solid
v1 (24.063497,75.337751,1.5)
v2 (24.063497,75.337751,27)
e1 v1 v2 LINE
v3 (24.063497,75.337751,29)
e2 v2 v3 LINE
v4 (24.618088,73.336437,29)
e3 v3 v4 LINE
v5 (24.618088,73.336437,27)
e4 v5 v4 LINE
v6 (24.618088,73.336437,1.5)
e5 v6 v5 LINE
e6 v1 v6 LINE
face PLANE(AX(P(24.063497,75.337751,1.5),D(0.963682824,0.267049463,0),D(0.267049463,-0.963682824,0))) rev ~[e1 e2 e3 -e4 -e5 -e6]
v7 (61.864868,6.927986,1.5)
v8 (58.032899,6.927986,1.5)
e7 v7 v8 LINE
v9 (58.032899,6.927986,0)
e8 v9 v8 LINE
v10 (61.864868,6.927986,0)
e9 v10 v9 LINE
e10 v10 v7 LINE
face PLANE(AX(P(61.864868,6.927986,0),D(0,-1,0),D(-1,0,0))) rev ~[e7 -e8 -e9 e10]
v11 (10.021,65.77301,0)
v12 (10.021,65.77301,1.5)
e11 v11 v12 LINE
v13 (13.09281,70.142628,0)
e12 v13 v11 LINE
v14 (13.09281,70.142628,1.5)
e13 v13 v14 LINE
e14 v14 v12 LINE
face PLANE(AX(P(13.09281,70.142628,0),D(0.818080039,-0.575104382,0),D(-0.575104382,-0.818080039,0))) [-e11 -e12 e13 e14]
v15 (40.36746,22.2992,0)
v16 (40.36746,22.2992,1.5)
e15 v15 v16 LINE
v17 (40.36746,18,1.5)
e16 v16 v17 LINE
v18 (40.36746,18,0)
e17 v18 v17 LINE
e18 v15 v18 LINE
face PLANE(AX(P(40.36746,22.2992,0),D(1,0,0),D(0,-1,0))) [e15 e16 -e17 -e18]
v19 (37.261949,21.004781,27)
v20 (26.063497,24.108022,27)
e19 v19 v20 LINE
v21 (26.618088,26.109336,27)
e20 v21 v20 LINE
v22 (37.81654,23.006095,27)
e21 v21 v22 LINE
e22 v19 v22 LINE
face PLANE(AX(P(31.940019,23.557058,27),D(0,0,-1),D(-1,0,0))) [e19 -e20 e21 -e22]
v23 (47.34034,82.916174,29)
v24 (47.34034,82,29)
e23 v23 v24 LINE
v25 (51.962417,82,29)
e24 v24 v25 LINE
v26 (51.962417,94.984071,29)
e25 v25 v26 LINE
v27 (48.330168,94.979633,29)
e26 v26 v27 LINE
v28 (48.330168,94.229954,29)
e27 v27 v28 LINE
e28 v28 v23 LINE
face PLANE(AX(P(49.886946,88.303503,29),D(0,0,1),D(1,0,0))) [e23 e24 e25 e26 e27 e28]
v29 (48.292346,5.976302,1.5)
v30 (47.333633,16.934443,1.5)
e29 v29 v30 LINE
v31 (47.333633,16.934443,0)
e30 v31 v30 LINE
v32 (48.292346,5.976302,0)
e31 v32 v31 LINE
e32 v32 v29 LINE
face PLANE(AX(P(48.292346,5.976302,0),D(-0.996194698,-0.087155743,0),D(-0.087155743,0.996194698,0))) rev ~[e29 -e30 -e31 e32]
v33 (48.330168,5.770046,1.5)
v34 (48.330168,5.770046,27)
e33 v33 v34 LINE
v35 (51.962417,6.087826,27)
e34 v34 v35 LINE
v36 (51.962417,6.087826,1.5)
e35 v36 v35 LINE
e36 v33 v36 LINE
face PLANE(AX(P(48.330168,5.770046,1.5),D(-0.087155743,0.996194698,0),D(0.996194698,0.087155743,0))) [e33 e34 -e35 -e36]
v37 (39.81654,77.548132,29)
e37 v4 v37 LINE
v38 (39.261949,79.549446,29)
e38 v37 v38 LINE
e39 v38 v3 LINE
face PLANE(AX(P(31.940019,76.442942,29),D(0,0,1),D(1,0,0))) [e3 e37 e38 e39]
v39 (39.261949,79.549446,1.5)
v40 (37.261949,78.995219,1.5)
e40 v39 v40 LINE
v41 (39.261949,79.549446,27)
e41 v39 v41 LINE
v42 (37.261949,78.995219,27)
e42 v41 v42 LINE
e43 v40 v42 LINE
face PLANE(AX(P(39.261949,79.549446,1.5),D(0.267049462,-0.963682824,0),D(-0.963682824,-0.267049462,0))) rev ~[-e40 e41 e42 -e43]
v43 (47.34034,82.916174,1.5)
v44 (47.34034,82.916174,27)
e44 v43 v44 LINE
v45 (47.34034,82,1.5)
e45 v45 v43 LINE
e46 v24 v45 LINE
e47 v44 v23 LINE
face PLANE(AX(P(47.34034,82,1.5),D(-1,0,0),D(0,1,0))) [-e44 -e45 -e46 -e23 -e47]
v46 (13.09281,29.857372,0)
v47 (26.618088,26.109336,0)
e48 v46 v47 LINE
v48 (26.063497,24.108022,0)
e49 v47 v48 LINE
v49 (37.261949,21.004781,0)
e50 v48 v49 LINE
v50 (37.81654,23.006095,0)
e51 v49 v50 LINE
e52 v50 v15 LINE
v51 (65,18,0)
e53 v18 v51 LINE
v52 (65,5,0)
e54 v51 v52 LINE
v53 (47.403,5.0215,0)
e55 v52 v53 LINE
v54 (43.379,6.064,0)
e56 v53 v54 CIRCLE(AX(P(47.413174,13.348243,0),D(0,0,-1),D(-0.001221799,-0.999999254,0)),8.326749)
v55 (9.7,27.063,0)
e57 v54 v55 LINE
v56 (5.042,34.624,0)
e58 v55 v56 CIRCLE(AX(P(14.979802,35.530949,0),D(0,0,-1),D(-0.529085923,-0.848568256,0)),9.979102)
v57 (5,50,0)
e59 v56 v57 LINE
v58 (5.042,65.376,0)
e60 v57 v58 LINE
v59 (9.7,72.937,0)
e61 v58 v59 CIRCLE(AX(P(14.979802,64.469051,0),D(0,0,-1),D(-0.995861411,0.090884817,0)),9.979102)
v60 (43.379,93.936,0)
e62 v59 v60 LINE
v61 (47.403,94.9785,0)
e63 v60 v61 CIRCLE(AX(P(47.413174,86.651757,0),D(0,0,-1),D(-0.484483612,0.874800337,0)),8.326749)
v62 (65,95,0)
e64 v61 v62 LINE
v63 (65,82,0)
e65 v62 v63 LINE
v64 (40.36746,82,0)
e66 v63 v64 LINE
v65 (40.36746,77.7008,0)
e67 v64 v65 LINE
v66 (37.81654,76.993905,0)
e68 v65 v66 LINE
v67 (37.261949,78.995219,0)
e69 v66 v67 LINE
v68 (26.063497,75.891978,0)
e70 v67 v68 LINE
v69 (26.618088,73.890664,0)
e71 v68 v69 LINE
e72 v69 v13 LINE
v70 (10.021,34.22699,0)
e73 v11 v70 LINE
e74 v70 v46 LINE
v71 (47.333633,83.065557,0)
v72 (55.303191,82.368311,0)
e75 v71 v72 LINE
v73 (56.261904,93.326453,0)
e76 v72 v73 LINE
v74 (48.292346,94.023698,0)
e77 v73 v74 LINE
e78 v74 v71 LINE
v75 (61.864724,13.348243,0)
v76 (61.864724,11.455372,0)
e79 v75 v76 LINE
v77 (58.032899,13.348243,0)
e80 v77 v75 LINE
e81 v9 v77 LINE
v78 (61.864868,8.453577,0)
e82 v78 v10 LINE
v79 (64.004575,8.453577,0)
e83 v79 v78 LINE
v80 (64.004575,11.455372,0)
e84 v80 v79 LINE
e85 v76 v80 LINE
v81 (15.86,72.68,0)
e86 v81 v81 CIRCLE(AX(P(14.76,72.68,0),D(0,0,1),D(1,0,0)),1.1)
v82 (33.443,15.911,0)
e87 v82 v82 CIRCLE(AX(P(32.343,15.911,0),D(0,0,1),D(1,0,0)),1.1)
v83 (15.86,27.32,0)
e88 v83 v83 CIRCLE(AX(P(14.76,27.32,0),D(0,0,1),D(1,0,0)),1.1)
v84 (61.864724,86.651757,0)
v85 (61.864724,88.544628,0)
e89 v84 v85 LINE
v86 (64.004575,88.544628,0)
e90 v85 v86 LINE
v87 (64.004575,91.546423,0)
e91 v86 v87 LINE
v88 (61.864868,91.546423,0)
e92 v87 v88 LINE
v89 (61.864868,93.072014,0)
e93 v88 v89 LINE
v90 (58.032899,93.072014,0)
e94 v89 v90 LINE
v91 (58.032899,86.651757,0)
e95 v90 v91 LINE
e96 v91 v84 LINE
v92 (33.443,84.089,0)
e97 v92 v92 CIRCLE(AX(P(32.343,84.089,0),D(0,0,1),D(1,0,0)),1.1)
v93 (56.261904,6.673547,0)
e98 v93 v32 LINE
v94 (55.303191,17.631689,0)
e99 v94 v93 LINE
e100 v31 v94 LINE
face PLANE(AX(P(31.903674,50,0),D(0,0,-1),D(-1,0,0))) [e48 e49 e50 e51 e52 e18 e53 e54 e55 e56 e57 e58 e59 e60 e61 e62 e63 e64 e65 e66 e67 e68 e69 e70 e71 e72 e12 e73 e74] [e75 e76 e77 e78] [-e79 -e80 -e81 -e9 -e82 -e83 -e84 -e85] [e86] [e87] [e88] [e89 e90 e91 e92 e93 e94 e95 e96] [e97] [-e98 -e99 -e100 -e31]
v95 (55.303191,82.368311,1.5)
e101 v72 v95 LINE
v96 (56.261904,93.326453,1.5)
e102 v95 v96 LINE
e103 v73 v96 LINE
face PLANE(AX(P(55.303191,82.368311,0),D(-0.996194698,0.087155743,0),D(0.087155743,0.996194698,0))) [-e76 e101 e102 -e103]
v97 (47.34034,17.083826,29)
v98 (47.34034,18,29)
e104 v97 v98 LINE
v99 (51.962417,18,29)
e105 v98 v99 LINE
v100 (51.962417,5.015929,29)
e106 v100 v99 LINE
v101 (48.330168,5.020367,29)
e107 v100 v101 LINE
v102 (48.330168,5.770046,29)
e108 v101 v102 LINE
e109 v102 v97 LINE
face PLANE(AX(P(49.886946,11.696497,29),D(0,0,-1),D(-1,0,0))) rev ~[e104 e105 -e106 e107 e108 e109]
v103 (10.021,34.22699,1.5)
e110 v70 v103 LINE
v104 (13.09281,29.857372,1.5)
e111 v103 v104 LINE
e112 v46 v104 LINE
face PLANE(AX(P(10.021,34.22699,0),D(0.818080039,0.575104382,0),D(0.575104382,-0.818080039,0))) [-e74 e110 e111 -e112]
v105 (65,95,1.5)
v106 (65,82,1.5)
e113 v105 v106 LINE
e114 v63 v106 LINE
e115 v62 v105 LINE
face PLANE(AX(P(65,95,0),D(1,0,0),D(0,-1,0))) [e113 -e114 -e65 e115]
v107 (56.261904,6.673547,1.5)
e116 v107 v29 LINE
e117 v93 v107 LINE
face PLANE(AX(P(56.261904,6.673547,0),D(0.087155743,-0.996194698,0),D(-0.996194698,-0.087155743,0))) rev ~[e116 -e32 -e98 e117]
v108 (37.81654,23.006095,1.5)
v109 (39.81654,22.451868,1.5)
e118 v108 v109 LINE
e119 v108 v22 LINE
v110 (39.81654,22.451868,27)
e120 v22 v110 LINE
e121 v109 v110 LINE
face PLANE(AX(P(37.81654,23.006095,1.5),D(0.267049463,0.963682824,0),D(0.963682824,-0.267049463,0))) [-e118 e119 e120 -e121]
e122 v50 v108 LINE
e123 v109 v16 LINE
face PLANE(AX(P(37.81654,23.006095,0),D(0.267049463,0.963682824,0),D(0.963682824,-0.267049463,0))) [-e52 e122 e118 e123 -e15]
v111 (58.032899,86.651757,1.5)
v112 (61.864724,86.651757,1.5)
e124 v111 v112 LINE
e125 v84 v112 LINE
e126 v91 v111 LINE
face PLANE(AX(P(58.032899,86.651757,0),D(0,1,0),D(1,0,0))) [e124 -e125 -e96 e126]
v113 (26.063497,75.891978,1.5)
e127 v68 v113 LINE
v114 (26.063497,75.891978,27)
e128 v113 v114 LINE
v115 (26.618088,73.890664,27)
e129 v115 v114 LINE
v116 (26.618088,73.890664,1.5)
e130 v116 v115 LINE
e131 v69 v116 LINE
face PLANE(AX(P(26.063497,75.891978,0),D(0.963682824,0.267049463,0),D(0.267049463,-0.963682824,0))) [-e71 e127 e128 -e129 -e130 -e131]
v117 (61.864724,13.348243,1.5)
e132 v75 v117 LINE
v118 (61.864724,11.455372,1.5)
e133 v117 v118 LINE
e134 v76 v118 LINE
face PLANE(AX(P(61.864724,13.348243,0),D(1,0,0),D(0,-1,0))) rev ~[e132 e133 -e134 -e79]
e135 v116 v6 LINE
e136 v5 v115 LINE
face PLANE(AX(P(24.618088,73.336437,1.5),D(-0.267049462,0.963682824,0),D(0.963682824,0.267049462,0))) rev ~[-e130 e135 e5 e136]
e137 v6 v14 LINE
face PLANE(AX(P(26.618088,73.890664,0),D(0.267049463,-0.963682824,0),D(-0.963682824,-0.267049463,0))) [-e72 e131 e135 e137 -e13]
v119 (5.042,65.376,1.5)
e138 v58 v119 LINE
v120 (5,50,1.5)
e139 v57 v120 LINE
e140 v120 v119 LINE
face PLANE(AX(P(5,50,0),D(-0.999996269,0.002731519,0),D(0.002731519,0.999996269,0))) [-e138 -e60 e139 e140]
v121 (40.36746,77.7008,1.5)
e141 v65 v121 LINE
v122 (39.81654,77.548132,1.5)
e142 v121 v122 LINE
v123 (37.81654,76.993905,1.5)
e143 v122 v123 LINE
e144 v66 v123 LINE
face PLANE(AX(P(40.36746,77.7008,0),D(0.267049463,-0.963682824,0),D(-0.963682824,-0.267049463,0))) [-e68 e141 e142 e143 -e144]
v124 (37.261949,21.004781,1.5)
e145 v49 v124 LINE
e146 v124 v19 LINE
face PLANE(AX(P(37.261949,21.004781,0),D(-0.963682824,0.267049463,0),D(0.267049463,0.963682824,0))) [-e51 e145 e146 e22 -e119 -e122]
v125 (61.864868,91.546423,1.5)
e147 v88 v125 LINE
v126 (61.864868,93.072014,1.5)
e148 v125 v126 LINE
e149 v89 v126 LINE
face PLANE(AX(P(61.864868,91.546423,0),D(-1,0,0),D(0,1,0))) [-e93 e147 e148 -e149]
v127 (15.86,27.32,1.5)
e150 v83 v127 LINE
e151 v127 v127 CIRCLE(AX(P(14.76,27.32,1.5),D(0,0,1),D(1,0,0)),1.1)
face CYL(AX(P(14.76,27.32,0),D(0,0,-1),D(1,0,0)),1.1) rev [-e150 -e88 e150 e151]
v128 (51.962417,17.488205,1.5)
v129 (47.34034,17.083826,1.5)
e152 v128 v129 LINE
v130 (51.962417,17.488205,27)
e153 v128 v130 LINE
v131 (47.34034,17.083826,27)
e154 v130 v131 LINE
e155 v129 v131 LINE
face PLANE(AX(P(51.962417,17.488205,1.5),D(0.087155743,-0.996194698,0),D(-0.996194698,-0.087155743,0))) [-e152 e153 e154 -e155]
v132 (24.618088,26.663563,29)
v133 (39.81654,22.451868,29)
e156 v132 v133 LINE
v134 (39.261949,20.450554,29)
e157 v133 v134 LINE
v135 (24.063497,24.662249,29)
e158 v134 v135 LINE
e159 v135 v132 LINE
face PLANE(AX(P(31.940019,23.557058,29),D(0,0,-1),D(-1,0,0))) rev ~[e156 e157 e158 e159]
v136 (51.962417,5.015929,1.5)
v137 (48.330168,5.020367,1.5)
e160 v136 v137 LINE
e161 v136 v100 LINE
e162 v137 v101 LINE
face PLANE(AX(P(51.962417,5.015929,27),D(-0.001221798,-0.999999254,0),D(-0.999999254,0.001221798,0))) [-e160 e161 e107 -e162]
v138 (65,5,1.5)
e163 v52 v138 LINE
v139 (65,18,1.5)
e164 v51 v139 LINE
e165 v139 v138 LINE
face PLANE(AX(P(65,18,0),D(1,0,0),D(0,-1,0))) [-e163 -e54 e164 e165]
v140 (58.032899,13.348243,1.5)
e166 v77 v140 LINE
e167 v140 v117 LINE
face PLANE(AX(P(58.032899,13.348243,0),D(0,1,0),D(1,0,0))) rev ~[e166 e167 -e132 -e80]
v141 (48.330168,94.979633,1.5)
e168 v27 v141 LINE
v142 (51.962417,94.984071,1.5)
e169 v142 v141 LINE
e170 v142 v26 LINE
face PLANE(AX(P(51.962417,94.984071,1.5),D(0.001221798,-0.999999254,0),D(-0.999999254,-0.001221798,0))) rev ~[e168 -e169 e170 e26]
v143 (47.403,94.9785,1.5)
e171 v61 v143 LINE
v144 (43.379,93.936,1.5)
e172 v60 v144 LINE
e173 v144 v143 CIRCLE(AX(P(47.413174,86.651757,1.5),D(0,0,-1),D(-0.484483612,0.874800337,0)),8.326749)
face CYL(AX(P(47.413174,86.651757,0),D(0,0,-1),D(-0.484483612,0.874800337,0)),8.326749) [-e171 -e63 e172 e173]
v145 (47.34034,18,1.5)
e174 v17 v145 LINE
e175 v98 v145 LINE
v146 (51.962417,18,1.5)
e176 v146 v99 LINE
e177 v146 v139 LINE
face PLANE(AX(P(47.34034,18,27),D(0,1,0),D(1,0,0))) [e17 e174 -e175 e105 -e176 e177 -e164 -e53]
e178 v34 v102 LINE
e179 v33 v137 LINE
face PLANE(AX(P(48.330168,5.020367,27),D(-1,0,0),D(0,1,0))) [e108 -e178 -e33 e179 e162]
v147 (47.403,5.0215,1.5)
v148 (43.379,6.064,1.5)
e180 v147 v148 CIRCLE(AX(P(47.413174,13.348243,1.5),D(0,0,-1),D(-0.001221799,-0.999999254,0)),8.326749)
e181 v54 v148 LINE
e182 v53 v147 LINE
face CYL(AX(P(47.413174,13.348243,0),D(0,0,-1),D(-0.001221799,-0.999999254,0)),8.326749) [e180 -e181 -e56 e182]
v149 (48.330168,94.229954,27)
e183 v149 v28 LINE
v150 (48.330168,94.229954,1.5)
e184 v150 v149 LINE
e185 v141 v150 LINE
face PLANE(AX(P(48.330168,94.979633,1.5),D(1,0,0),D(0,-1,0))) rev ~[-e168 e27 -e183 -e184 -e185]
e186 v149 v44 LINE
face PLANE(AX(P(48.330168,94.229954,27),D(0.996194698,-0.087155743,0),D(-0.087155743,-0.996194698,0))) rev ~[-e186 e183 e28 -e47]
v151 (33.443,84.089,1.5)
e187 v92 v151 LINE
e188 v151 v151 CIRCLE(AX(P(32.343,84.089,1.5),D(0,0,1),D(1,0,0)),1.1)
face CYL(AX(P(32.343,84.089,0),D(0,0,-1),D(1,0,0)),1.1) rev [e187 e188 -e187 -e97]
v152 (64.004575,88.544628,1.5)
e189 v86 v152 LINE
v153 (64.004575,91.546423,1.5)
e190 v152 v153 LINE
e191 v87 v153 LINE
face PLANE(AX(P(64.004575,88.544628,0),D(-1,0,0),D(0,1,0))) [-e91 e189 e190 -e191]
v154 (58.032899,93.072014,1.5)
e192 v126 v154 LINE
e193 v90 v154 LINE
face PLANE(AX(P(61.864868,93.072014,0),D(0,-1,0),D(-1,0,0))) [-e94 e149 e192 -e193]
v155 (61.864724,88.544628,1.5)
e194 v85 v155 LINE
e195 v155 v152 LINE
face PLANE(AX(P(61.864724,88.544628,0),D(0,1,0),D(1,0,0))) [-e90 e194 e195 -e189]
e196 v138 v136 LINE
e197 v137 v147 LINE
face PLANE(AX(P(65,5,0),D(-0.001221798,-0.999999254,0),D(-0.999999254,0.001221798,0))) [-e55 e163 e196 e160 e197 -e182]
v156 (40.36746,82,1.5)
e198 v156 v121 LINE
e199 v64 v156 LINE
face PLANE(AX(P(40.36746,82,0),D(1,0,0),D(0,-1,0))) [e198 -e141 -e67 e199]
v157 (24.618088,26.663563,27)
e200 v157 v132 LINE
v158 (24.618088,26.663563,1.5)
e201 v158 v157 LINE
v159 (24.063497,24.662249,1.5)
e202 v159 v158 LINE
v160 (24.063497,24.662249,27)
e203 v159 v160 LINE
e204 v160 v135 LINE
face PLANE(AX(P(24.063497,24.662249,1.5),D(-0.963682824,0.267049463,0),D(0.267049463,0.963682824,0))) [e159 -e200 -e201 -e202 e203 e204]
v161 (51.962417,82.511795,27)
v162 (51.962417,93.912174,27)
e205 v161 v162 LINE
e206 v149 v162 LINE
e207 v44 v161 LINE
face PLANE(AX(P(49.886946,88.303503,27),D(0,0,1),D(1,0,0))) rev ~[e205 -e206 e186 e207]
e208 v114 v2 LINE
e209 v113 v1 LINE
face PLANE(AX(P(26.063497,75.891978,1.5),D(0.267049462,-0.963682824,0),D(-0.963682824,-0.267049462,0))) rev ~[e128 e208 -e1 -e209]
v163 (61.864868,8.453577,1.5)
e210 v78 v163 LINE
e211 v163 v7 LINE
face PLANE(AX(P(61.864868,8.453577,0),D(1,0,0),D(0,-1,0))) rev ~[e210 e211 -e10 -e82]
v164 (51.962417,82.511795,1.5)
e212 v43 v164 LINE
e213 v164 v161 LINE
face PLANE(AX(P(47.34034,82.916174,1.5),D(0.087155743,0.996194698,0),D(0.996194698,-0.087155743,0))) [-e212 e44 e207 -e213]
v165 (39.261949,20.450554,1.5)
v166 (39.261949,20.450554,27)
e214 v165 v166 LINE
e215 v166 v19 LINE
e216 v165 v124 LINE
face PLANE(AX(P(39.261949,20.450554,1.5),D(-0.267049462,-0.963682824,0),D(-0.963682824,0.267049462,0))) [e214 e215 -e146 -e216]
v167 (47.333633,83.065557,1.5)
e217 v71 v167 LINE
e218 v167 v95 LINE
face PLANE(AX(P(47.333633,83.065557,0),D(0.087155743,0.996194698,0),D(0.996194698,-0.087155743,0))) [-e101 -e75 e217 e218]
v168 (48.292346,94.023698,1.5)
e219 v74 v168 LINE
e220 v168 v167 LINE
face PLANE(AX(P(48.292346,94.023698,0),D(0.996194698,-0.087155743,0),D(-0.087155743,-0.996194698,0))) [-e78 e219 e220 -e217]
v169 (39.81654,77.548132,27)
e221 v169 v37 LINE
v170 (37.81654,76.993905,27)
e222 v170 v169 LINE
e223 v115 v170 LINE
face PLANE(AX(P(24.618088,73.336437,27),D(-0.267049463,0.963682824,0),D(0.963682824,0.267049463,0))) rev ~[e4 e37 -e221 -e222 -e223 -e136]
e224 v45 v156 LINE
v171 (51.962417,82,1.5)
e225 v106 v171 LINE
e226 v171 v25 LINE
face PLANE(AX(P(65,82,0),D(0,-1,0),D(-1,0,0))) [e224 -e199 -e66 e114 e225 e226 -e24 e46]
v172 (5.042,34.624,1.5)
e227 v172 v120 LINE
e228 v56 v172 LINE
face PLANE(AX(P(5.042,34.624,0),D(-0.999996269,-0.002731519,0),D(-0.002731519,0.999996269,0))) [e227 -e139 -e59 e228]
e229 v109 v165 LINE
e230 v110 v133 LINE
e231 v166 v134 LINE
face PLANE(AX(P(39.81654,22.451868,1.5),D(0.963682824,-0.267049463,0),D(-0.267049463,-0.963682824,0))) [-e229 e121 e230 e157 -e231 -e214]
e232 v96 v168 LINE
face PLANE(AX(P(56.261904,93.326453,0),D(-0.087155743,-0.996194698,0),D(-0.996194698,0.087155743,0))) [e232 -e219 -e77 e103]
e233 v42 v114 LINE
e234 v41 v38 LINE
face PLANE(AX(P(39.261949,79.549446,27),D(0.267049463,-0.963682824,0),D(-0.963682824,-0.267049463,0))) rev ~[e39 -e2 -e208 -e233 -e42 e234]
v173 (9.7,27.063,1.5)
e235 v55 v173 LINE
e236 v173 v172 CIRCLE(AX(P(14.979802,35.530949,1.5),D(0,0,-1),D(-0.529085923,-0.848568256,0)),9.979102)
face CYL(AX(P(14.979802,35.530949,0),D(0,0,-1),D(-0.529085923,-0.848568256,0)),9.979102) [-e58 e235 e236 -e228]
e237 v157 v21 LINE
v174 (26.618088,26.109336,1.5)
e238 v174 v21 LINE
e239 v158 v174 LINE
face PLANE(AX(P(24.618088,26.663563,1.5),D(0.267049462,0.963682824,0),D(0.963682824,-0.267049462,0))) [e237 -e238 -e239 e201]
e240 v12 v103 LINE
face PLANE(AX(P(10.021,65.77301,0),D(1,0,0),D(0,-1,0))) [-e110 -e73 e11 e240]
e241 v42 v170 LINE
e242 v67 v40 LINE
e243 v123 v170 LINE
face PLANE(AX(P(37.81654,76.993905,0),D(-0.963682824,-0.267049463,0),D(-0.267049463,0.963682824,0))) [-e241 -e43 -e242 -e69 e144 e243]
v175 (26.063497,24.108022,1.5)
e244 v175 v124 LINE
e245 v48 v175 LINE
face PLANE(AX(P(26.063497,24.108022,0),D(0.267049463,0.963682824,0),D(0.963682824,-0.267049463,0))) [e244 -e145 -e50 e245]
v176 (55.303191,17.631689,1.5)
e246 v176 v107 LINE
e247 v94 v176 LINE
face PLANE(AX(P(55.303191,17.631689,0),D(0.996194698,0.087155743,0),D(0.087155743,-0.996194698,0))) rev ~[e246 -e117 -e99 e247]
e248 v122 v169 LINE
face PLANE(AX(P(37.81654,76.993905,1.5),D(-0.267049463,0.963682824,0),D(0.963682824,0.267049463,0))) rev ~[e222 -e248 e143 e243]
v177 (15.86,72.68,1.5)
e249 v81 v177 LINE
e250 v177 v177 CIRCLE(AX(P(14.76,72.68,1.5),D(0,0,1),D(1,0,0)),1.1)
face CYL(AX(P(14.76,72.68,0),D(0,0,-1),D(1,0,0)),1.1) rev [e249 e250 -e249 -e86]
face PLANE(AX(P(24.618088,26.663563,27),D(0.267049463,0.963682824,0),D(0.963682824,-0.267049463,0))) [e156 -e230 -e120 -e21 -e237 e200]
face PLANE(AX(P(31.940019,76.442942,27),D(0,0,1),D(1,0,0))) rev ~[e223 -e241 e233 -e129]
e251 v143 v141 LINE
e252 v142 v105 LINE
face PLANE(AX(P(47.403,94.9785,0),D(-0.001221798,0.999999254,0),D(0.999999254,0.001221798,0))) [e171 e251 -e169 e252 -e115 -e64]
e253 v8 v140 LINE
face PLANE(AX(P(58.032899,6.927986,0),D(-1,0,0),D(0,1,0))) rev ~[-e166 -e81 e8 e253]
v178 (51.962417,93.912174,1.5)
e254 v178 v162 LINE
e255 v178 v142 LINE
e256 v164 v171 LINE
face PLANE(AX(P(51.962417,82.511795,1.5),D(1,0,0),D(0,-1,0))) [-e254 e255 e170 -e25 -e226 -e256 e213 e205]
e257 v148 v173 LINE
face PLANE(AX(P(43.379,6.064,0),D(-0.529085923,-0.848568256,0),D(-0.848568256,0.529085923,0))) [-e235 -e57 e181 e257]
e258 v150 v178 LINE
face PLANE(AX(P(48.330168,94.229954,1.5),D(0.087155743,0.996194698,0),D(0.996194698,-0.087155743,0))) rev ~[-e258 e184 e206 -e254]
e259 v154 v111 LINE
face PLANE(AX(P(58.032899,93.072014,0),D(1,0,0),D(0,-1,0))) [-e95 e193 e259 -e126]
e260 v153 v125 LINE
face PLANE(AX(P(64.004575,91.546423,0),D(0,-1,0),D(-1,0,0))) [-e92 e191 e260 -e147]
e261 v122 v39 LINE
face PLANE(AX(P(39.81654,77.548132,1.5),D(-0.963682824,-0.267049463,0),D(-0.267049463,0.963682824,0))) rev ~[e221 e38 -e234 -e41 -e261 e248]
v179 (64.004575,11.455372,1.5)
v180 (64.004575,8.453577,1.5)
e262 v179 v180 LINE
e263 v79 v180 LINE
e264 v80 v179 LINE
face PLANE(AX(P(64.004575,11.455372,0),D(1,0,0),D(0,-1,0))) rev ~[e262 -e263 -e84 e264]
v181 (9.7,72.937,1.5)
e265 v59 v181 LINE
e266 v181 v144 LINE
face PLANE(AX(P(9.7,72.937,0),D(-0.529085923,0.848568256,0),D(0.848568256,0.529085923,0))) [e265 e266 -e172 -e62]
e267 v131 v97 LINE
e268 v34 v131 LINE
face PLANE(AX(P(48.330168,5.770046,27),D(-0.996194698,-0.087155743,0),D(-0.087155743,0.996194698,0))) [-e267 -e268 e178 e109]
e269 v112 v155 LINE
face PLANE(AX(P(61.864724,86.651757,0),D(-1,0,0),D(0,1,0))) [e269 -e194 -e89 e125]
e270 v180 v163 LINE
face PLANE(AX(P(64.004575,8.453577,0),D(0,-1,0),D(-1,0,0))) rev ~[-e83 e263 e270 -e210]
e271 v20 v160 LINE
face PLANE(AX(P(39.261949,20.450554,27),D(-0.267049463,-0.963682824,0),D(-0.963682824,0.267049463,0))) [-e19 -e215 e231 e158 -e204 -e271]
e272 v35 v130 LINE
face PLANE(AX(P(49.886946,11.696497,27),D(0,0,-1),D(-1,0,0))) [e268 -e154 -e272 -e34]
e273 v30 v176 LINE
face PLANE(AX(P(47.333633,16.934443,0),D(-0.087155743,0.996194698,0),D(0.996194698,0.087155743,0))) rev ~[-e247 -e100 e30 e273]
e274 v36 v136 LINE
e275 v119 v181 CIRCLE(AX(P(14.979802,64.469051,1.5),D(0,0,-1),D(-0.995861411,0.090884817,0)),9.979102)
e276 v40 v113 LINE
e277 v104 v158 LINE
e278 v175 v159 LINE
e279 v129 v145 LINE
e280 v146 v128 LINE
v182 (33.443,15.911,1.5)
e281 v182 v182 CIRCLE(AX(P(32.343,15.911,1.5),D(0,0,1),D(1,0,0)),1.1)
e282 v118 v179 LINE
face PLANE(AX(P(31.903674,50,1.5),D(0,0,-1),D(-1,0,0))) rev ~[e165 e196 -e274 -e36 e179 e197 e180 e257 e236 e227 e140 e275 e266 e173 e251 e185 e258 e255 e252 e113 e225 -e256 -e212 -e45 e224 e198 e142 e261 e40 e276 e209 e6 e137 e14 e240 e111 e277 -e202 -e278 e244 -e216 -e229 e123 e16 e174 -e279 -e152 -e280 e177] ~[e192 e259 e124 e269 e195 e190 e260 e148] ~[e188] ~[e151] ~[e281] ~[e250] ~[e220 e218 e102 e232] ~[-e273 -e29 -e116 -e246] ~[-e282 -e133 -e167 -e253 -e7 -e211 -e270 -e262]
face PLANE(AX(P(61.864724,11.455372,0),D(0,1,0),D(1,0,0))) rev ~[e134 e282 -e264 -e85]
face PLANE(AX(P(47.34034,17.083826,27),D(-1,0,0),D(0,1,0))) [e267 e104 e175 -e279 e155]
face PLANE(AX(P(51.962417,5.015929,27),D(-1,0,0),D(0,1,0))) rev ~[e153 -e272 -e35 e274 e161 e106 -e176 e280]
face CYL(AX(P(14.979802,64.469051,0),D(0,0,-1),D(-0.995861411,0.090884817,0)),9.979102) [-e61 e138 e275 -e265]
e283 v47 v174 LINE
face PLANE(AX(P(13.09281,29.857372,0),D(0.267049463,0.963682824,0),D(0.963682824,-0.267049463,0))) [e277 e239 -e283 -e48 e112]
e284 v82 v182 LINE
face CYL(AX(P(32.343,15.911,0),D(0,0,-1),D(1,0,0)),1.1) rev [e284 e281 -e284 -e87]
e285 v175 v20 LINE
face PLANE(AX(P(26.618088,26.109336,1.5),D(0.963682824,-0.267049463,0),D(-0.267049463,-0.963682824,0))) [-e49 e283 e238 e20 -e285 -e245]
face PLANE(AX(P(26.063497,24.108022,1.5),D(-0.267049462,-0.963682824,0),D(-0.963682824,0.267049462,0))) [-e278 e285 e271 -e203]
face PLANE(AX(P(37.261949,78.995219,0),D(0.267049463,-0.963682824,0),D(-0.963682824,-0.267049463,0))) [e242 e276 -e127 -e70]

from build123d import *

# Parameters (mm, degrees)
SKETCH1_R           = 1.1
BOSS_EXTRUDE1_DEPTH = 1.5
BOSS_EXTRUDE2_DEPTH = 25.5
BOSS_EXTRUDE4_DEPTH = 2


with BuildPart() as part:
    # Sketch1 → Boss-Extrude1 (new body)
    with BuildSketch(Plane.XY):
        with BuildLine():
            Line((65, 15), (65, 5))
            Line((65, 5), (47.403, 5.0215))
            ThreePointArc((47.403, 5.0215), (45.32489976, 5.287606245), (43.379, 6.064))
            Line((43.379, 6.064), (9.7, 27.063))
            ThreePointArc((9.7, 27.063), (6.483564725, 30.296790106), (5.042, 34.624))
            Line((5.042, 34.624), (5, 50))
            Line((5, 50), (5.042, 65.376))
            ThreePointArc((5.042, 65.376), (6.483564725, 69.703209894), (9.7, 72.937))
            Line((9.7, 72.937), (43.379, 93.936))
            ThreePointArc((43.379, 93.936), (45.32489976, 94.712393755), (47.403, 94.9785))
            Line((47.403, 94.9785), (65, 95))
            Line((65, 95), (65, 85))
            Line((65, 85), (65, 82))
            Line((65, 82), (40.367460006, 82))
            Line((40.367460006, 82), (40.367460006, 77.700799702))
            Line((40.367460006, 77.700799702), (37.816539887, 76.993905452))
            Line((37.816539887, 76.993905452), (37.261948992, 78.995219046))
            Line((37.261948992, 78.995219046), (26.063497318, 75.891977576))
            Line((26.063497318, 75.891977576), (26.618088213, 73.890663982))
            Line((26.618088213, 73.890663982), (13.092809655, 70.14262751))
            Line((13.092809655, 70.14262751), (10.021, 65.77301003))
            Line((10.021, 65.77301003), (10.021, 34.22698997))
            Line((10.021, 34.22698997), (13.092809655, 29.85737249))
            Line((13.092809655, 29.85737249), (26.618088213, 26.109336018))
            Line((26.618088213, 26.109336018), (26.063497318, 24.108022424))
            Line((26.063497318, 24.108022424), (37.261948992, 21.004780954))
            Line((37.261948992, 21.004780954), (37.816539887, 23.006094548))
            Line((37.816539887, 23.006094548), (40.367460006, 22.299200298))
            Line((40.367460006, 22.299200298), (40.367460006, 18))
            Line((40.367460006, 18), (65, 18))
            Line((65, 18), (65, 15))
        make_face()
        with Locations((32.343, 84.089)):
            Circle(SKETCH1_R, mode=Mode.SUBTRACT)
        with Locations((14.76, 72.68)):
            Circle(SKETCH1_R, mode=Mode.SUBTRACT)
        with Locations((14.76, 27.32)):
            Circle(SKETCH1_R, mode=Mode.SUBTRACT)
        with Locations((32.343, 15.911)):
            Circle(SKETCH1_R, mode=Mode.SUBTRACT)
        Polygon((47.33363322, 83.065556795), (55.303190804, 82.368310853), (56.261903975, 93.326452532), (48.29234639, 94.023698474), align=None, mode=Mode.SUBTRACT)
        Polygon((58.032899046, 86.65175686), (61.864724228, 86.65175686), (61.864724228, 88.544627634), (64.004574654, 88.544627634), (64.004574654, 91.546423221), (61.864868117, 91.546423221), (61.864868117, 93.072013731), (58.032899046, 93.072013731), align=None, mode=Mode.SUBTRACT)
        Polygon((56.261903975, 6.673547468), (48.29234639, 5.976301526), (47.33363322, 16.934443205), (55.303190804, 17.631689147), align=None, mode=Mode.SUBTRACT)
        Polygon((58.032899046, 13.34824314), (61.864724228, 13.34824314), (61.864724228, 11.455372366), (64.004574654, 11.455372366), (64.004574654, 8.453576779), (61.864868117, 8.453576779), (61.864868117, 6.927986269), (58.032899046, 6.927986269), align=None, mode=Mode.SUBTRACT)
    extrude(amount=BOSS_EXTRUDE1_DEPTH)

    # Sketch2 → Boss-Extrude2 (add)
    with BuildSketch(Plane.XY.offset(1.5)):
        Polygon((26.618088213, 26.109336018), (26.063497318, 24.108022424), (24.063497318, 24.662249304), (24.618088213, 26.663562898), align=None)
        Polygon((37.261948992, 21.004780954), (37.816539887, 23.006094548), (39.816539887, 22.451867667), (39.261948992, 20.450554074), align=None)
        Polygon((39.816539887, 77.548132333), (39.261948992, 79.549445926), (37.261948992, 78.995219046), (37.816539887, 76.993905452), align=None)
        Polygon((26.063497318, 75.891977576), (24.063497318, 75.337750696), (24.618088213, 73.336437102), (26.618088213, 73.890663982), align=None)
        Polygon((47.340340229, 18), (51.96241715, 18), (51.96241715, 17.488205474), (47.340340229, 17.083826141), align=None)
        Polygon((48.330167759, 5.770045696), (51.96241715, 6.087826341), (51.96241715, 5.015929308), (48.330167759, 5.020367187), (48.330167759, 5.551877825), align=None)
        Polygon((48.330167759, 94.979632813), (48.330167759, 94.448122175), (48.330167759, 94.229954304), (51.96241715, 93.912173659), (51.96241715, 94.984070692), align=None)
        Polygon((47.340340229, 82.916173859), (51.96241715, 82.511794526), (51.96241715, 82), (47.340340229, 82), align=None)
    extrude(amount=BOSS_EXTRUDE2_DEPTH)

    # Sketch4 → Boss-Extrude4 (add)
    with BuildSketch(Plane.XY.offset(27)):
        Polygon((48.330167759, 5.020367187), (48.330167759, 5.770045696), (47.340340229, 17.083826141), (47.340340229, 18), (51.96241715, 18), (51.96241715, 17.488205474), (51.96241715, 5.015929308), align=None)
        Polygon((24.618088213, 26.663562898), (39.816539887, 22.451867667), (39.261948992, 20.450554074), (24.063497318, 24.662249304), align=None)
        Polygon((51.96241715, 82.511794526), (51.96241715, 94.984070692), (48.330167759, 94.979632813), (48.330167759, 94.229954304), (47.340340229, 82.916173859), (47.340340229, 82), (51.96241715, 82), align=None)
        Polygon((39.261948992, 79.549445926), (24.063497318, 75.337750696), (24.618088213, 73.336437102), (39.816539887, 77.548132333), align=None)
    extrude(amount=BOSS_EXTRUDE4_DEPTH)


solid = part.part
